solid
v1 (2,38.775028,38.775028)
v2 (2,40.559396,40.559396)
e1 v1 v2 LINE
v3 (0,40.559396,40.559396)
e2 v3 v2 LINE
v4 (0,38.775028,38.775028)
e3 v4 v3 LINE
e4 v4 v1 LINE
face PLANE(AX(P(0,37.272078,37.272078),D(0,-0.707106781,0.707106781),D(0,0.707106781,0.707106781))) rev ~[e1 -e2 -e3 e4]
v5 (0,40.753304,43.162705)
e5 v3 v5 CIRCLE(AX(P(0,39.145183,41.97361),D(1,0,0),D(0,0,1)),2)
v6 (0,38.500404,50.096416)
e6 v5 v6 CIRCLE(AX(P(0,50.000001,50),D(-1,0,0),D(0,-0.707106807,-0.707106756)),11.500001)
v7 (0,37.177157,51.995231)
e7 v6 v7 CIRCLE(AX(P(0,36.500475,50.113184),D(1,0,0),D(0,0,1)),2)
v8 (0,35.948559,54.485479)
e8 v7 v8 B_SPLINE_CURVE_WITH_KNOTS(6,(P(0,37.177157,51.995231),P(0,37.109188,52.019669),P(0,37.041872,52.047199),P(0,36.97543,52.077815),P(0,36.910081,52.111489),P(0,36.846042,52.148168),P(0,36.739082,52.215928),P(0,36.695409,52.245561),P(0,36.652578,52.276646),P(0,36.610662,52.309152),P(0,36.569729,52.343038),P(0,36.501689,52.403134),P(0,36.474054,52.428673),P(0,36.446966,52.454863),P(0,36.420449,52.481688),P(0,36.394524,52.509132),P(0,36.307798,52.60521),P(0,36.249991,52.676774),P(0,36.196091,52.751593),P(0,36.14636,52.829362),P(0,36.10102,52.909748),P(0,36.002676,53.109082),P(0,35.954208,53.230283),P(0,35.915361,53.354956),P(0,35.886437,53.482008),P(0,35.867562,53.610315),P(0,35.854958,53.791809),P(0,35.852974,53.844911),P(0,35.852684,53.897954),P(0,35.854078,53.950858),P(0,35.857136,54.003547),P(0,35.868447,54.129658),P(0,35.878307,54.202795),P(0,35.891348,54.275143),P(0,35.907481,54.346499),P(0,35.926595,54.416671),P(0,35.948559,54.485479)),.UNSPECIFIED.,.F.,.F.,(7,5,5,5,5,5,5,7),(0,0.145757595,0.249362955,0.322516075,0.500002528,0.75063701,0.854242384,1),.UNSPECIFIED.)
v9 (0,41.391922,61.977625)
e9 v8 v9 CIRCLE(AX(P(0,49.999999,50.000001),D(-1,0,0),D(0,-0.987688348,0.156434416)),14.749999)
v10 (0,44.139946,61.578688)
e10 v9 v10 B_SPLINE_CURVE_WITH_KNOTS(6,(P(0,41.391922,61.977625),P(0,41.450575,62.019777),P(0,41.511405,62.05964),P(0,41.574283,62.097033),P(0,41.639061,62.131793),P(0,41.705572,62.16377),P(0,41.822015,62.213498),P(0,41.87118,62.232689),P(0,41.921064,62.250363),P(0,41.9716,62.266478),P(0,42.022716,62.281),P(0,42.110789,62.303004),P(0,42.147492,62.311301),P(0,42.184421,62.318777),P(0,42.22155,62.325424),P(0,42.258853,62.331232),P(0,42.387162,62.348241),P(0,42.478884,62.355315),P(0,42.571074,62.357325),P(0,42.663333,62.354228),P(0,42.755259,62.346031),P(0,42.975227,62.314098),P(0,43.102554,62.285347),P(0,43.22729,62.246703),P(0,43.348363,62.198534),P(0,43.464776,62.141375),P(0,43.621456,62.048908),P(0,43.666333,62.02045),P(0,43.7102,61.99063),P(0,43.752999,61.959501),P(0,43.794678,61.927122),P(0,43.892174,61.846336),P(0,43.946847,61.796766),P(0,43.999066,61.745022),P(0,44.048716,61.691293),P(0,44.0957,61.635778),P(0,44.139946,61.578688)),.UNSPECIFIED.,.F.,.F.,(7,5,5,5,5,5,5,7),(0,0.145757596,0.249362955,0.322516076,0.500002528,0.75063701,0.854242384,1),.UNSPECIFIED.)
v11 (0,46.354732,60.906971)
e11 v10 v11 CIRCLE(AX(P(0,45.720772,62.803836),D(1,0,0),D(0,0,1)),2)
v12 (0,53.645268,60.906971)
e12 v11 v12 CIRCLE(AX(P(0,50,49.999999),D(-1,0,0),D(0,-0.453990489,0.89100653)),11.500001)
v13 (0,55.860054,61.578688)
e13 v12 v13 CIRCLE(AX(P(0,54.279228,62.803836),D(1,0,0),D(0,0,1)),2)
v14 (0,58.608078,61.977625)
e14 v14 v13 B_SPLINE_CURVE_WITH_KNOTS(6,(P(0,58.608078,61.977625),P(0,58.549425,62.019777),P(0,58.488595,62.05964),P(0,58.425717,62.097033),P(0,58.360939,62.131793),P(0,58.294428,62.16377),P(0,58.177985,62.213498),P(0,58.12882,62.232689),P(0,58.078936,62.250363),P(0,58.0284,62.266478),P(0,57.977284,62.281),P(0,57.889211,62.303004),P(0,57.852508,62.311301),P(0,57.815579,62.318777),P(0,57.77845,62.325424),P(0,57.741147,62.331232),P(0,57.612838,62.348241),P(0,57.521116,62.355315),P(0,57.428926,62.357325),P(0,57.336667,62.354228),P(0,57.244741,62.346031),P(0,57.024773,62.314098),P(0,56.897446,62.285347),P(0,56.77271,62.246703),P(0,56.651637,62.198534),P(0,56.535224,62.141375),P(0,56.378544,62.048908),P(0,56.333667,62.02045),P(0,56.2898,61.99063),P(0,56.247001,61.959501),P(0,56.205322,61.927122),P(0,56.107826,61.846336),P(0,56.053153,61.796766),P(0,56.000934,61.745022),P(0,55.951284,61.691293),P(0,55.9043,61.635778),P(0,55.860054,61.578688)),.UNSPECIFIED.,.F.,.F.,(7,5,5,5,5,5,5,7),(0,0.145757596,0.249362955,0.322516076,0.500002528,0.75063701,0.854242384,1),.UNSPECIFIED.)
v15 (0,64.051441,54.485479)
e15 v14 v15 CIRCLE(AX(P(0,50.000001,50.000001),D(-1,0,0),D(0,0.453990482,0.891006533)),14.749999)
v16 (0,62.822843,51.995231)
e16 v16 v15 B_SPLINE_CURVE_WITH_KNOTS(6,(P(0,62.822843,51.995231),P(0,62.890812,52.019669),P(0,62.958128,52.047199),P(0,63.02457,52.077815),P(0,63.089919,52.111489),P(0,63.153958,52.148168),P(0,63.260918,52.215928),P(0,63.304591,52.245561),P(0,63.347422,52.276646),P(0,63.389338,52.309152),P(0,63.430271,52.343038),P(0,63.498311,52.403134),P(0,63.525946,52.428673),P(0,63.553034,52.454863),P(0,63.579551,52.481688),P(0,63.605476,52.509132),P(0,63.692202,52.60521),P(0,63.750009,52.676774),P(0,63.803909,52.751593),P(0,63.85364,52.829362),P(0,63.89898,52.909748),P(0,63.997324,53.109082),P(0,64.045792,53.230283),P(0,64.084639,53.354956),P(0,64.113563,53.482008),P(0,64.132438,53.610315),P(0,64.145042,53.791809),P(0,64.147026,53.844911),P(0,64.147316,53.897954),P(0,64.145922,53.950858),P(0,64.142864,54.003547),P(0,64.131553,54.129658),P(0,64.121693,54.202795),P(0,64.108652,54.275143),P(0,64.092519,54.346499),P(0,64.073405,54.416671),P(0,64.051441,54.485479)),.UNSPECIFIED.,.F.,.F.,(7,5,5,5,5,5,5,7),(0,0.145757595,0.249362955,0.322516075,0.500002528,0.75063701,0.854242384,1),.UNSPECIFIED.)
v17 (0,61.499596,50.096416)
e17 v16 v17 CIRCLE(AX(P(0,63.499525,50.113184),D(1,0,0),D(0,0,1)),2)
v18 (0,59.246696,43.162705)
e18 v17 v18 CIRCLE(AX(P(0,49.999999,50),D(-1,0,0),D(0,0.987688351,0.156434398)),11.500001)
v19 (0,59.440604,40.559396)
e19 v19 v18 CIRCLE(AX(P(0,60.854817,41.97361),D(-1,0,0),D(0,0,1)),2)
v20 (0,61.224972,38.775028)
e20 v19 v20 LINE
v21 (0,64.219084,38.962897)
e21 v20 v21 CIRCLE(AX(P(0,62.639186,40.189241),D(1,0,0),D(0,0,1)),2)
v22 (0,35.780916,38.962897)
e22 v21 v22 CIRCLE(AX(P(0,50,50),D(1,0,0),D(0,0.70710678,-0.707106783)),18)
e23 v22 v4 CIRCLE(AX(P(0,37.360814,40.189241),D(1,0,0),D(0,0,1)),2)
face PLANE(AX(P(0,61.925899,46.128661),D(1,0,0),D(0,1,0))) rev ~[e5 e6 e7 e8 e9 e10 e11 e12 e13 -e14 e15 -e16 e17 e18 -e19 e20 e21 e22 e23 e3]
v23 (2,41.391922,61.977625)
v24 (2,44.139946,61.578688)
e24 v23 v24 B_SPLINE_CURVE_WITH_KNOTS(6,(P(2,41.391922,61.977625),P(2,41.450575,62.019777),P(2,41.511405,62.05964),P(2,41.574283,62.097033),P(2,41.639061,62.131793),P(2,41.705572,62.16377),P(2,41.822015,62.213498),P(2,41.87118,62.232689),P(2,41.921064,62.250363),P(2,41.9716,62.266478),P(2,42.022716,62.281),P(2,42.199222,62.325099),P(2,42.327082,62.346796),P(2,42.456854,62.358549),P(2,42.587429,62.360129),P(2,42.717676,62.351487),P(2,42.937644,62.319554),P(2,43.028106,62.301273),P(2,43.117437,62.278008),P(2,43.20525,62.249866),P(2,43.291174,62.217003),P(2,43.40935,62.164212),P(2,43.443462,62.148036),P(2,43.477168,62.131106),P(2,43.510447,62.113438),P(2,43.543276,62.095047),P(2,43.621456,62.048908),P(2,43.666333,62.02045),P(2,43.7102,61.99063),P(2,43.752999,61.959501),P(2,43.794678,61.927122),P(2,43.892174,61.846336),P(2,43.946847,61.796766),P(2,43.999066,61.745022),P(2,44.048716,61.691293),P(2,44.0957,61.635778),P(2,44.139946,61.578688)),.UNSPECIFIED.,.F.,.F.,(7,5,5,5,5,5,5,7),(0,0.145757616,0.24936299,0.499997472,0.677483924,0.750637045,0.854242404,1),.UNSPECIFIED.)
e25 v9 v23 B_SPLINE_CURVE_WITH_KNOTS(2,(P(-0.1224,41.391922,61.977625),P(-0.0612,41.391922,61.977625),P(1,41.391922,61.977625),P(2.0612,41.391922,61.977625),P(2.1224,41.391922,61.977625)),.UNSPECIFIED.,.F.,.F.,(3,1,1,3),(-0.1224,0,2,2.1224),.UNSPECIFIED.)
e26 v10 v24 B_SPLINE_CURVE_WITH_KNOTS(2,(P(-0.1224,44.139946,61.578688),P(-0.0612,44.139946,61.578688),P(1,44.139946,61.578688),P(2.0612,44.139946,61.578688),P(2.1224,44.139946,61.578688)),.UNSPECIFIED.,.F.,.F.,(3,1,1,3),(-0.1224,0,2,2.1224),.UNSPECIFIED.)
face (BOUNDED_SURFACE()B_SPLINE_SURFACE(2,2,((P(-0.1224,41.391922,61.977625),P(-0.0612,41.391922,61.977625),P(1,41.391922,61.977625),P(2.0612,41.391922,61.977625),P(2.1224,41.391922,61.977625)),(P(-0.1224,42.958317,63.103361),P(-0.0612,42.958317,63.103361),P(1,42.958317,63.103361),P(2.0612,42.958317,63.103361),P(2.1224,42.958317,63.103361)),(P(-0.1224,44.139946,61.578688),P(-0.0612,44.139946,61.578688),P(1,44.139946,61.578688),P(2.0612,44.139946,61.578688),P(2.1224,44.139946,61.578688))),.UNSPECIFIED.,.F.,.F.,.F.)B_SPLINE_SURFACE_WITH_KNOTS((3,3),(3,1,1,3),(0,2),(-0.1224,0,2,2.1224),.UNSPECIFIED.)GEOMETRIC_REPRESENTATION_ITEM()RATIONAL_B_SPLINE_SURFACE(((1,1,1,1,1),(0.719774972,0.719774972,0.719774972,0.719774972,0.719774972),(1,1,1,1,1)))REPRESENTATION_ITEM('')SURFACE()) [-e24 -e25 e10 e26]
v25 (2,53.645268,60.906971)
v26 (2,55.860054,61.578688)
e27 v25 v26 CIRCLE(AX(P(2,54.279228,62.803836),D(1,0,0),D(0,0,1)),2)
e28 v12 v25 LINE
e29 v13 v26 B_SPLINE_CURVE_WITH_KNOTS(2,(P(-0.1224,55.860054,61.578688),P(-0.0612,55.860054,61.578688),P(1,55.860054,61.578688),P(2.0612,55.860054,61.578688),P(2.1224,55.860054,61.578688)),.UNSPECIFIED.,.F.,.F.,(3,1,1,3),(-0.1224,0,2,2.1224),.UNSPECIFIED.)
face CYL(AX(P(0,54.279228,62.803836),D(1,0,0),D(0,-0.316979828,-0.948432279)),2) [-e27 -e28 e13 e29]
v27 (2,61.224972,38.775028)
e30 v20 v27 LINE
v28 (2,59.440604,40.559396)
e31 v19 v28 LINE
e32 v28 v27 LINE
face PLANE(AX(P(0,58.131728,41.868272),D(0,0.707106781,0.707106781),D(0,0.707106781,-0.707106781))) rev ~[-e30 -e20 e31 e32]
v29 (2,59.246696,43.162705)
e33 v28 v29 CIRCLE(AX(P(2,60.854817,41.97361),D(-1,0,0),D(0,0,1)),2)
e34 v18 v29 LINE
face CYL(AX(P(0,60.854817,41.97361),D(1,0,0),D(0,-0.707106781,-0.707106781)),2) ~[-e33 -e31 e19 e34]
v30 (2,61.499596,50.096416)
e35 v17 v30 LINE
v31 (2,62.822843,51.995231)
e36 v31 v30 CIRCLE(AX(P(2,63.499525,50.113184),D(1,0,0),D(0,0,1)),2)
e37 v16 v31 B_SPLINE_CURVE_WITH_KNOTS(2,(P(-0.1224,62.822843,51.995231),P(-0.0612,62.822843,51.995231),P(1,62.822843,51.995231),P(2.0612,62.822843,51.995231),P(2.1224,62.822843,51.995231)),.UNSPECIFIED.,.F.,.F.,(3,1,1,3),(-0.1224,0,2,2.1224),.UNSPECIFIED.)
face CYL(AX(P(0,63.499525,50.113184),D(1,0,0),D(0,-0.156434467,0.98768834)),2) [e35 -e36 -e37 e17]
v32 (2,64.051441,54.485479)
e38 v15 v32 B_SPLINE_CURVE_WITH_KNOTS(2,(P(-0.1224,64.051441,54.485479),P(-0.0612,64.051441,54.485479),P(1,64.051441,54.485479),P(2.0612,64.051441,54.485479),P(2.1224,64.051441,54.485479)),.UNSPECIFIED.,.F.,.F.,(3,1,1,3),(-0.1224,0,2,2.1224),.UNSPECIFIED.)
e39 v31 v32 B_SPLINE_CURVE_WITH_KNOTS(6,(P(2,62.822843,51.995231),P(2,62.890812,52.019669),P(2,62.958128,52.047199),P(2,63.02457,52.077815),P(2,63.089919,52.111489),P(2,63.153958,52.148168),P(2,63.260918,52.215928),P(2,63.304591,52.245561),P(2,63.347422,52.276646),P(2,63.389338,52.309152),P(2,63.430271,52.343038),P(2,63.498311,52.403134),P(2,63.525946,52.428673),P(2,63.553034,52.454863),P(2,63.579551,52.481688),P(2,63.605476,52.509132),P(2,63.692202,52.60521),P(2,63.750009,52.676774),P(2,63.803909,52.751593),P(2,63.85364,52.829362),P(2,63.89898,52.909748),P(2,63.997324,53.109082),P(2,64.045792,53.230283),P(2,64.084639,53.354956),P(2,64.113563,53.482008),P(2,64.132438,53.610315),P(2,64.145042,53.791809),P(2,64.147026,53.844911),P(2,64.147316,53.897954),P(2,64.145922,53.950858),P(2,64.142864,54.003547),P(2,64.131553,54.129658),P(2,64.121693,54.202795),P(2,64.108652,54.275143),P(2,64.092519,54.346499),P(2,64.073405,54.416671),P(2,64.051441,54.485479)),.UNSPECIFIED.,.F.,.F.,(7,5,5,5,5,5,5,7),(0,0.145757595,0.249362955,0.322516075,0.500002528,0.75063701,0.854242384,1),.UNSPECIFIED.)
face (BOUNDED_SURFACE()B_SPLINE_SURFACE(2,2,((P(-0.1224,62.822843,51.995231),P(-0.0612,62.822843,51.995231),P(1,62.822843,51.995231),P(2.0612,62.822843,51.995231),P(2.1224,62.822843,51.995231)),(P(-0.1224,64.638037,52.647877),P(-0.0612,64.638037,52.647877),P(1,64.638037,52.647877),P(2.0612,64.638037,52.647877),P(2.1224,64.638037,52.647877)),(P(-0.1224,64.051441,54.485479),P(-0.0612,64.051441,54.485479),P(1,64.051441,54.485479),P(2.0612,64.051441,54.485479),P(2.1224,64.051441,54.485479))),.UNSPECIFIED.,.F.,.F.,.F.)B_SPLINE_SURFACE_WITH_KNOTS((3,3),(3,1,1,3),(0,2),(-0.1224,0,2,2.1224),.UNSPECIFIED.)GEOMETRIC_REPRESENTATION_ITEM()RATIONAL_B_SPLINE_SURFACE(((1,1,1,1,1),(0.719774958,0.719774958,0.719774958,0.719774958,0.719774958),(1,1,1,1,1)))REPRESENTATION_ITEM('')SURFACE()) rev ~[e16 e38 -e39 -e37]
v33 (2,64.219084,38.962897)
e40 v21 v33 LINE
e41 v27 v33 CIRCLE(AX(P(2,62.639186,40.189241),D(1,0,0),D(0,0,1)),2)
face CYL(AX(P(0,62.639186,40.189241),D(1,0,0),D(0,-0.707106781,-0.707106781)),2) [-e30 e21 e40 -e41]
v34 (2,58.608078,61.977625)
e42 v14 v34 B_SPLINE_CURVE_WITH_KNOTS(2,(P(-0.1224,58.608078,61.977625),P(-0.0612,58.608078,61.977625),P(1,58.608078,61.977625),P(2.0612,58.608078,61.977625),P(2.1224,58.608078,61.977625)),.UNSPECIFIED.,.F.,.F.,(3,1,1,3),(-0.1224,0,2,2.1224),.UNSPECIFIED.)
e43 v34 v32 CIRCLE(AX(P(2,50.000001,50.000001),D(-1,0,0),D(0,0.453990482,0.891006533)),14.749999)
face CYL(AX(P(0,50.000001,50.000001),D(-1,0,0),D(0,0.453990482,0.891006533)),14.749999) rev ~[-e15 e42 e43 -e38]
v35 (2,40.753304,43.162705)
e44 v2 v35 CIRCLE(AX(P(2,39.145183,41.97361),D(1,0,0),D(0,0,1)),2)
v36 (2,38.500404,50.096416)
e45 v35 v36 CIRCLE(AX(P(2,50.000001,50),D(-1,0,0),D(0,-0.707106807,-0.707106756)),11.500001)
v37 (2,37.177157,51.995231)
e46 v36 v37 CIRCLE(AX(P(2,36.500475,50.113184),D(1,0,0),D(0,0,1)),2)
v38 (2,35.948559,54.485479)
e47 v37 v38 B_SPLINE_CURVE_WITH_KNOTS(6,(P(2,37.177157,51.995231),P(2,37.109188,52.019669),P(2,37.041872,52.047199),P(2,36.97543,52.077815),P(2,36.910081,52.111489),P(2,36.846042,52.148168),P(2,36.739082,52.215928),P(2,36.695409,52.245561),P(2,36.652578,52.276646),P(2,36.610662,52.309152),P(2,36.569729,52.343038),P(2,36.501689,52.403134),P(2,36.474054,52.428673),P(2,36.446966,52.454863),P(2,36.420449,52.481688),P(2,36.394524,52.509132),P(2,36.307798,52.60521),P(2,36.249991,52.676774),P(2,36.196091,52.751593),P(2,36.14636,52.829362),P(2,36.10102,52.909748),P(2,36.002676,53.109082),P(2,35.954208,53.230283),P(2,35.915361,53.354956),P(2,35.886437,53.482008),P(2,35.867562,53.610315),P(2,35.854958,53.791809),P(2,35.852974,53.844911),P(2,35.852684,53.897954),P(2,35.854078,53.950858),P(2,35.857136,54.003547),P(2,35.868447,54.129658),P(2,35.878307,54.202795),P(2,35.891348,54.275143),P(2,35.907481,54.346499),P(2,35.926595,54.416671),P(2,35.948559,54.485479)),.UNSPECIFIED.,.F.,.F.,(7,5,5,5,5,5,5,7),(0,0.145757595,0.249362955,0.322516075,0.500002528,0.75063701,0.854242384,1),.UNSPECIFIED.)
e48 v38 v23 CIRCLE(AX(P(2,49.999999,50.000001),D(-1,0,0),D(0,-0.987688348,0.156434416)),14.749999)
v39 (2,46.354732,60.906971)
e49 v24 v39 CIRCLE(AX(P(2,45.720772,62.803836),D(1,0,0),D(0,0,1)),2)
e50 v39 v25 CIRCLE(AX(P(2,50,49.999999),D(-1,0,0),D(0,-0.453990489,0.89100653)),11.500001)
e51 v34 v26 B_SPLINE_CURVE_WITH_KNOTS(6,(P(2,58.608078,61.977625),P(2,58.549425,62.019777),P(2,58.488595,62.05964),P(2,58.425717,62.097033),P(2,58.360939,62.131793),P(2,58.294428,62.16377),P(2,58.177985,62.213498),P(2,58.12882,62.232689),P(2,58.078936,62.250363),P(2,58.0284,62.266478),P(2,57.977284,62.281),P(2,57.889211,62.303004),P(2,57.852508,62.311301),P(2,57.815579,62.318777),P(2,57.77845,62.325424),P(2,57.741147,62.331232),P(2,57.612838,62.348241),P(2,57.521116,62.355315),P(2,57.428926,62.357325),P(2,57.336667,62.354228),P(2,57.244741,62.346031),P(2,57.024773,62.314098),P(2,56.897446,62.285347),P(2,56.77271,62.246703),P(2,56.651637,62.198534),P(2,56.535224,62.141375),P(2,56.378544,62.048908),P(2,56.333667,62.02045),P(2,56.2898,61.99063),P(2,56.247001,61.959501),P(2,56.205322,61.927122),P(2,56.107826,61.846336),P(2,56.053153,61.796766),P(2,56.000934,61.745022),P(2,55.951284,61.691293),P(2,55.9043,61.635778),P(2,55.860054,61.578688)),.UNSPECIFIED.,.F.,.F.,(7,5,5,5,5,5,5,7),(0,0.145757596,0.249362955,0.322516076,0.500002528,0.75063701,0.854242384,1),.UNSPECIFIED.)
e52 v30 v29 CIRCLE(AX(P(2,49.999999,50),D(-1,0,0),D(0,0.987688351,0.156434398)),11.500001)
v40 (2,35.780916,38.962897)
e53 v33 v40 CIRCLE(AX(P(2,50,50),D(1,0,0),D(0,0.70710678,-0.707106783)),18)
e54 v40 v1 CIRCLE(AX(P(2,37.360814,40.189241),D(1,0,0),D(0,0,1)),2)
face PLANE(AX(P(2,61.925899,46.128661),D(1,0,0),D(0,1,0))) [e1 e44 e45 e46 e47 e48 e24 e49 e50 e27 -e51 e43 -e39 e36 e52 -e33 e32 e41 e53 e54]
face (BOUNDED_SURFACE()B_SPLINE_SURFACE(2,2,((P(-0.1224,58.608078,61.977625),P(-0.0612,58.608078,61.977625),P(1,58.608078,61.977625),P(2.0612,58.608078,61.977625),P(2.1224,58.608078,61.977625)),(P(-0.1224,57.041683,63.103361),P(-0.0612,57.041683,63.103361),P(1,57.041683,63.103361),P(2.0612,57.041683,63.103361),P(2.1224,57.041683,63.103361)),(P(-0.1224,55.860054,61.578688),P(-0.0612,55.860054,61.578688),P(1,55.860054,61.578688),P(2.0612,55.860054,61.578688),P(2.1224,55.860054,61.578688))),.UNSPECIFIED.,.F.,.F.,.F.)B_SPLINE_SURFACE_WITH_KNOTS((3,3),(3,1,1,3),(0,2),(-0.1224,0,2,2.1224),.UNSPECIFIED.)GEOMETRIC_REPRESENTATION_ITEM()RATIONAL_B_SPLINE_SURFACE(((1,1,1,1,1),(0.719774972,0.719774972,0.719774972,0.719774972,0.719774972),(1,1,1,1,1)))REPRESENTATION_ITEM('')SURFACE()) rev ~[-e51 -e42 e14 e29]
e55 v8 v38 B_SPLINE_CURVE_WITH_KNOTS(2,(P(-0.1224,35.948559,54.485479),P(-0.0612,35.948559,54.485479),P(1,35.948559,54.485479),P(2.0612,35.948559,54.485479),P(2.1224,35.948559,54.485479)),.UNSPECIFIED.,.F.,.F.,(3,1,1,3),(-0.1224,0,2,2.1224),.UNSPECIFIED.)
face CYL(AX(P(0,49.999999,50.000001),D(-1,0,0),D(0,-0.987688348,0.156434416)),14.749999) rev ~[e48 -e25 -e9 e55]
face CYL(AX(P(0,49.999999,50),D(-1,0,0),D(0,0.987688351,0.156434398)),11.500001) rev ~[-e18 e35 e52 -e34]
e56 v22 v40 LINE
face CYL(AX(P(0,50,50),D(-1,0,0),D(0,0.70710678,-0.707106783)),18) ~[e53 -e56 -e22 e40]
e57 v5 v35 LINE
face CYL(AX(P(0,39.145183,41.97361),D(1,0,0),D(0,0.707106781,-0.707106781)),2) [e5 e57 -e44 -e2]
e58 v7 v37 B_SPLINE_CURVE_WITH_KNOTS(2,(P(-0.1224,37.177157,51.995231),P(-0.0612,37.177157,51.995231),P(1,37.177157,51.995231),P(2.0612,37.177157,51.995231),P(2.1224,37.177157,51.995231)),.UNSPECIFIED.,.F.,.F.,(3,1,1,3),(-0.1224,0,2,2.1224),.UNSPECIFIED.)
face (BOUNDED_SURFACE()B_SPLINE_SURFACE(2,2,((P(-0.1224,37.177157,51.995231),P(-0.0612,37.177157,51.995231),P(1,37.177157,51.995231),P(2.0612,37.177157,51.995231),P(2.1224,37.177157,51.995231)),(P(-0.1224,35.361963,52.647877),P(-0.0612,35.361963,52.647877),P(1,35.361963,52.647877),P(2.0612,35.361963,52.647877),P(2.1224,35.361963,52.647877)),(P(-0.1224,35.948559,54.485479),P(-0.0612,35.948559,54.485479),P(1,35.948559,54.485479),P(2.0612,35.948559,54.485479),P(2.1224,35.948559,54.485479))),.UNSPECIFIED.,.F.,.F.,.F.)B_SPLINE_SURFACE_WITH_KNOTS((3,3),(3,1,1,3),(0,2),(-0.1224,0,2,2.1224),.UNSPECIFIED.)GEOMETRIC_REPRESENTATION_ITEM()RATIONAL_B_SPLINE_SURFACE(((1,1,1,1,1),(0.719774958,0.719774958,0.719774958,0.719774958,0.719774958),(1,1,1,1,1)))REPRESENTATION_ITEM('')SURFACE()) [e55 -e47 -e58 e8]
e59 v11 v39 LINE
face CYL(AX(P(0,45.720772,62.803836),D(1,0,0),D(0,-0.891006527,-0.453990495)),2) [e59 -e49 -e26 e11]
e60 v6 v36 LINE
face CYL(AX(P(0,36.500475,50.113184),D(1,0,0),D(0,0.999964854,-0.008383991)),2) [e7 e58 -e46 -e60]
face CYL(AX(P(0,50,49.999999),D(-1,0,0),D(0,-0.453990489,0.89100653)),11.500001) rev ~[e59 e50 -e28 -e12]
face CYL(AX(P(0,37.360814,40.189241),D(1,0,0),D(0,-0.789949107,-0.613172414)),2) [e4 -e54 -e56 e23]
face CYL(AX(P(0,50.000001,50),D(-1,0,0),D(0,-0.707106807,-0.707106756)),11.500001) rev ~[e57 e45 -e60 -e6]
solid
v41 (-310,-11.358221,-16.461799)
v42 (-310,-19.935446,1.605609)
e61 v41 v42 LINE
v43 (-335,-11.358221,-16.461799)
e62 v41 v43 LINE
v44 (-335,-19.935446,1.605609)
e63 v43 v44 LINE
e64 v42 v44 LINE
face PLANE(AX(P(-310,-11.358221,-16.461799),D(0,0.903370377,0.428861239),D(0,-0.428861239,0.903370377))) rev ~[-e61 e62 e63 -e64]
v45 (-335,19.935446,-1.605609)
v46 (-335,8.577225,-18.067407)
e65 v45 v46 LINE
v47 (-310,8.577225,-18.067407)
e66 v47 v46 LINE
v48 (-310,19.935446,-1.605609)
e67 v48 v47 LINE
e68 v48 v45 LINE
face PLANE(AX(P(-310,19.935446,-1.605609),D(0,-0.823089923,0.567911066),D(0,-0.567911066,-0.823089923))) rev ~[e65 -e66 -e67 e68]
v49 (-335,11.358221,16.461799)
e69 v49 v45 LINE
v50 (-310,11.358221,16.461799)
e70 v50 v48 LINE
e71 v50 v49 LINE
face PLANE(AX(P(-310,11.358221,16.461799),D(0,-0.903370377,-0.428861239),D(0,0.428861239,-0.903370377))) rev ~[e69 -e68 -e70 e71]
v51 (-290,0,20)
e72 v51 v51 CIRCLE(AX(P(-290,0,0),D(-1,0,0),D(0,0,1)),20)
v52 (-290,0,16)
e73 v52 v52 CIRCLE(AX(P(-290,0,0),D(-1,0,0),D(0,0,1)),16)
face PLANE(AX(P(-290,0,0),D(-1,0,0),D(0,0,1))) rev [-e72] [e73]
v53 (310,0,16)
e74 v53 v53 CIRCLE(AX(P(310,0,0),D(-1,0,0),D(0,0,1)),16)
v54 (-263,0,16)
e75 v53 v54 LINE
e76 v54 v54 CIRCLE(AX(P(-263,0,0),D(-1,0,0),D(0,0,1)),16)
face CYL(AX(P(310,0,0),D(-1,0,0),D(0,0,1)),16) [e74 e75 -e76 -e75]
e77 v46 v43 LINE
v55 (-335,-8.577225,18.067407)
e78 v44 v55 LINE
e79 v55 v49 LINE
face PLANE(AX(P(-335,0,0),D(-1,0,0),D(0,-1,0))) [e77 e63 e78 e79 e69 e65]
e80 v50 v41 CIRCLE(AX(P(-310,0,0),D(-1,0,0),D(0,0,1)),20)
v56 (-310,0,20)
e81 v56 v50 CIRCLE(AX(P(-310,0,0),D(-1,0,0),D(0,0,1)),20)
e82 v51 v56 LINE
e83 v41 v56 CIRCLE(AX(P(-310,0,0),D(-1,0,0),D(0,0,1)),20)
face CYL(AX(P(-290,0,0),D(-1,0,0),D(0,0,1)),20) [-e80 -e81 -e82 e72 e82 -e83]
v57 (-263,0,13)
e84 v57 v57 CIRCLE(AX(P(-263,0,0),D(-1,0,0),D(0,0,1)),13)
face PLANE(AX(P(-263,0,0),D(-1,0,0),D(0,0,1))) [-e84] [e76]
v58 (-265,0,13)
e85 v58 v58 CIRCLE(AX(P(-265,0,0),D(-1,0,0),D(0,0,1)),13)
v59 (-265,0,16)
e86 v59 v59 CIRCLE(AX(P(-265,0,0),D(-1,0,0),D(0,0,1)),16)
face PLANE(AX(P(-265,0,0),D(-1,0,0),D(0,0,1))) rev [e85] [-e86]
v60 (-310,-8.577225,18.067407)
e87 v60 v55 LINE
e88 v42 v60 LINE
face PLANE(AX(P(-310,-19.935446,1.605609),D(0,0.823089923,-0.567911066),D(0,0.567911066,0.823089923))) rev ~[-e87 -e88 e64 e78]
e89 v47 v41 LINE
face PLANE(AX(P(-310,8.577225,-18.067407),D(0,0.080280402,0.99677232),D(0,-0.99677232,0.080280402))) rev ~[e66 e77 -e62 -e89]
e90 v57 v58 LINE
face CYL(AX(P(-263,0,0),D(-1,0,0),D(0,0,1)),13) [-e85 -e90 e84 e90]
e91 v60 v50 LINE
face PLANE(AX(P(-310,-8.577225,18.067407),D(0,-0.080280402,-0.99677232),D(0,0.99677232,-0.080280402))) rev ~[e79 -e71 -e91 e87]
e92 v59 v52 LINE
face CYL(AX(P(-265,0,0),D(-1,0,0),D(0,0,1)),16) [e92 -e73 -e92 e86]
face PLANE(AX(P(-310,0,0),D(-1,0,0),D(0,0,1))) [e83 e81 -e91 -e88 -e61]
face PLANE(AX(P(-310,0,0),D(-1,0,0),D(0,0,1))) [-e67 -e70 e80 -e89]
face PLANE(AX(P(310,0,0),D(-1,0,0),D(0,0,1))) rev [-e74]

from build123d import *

# Parameters (mm, degrees)
F3_DEPTH = 25
F5_DEPTH = 2
F6_R     = 2
F7_R     = 2


with BuildPart() as f1:
    # F0 (on Front) → F1 (revolve)
    with BuildSketch(Plane.XZ):
        Polygon((0, 0), (310, 0), (310, 16), (-263, 16), (-263, 13), (-265, 13), (-265, 16), (-290, 16), (-290, 20), (-310, 20), (-310, 0), align=None)
    revolve(axis=Axis((24.206266, 0, 0), (-1, 0, 0)))

    # F2 (on face) → F3 (join)
    with BuildSketch(Plane(origin=(-310, 0, 0), x_dir=(0, -1, 0), z_dir=(-1, 0, 0))):
        Polygon((-8.577225, -18.067407), (11.358221, -16.461799), (19.935446, 1.605609), (8.577225, 18.067407), (-11.358221, 16.461799), (-19.935446, -1.605609), align=None)
    extrude(amount=F3_DEPTH)


with BuildPart() as f5:
    # F4 (on Right) → F5 (new body)
    with BuildSketch(Plane.YZ):
        with BuildLine():
            Line((58.131728, 41.868272), (60.429825, 39.570175))
            ThreePointArc((60.429825, 39.570175), (63.627223, 44.355419), (64.75, 50))
            ThreePointArc((64.75, 50), (64.704531, 51.157272), (64.568403, 52.307408))
            Line((64.568403, 52.307408), (61.358416, 51.798996))
            ThreePointArc((61.358416, 51.798996), (60.93715, 46.446305), (58.131728, 41.868272))
        make_face()
        with BuildLine():
            Line((60.429825, 39.570175), (62.727922, 37.272078))
            ThreePointArc((62.727922, 37.272078), (50, 68), (37.272078, 37.272078))
            Line((37.272078, 37.272078), (39.570175, 39.570175))
            ThreePointArc((39.570175, 39.570175), (35.971916, 45.441999), (35.431597, 52.307408))
            ThreePointArc((35.431597, 52.307408), (38.066999, 58.669832), (43.30364, 63.142346))
            ThreePointArc((43.30364, 63.142346), (50, 64.75), (56.69636, 63.142346))
            ThreePointArc((56.69636, 63.142346), (61.933001, 58.669832), (64.568403, 52.307408))
            ThreePointArc((64.568403, 52.307408), (64.704531, 51.157272), (64.75, 50))
            ThreePointArc((64.75, 50), (63.627223, 44.355419), (60.429825, 39.570175))
        make_face()
        with BuildLine():
            ThreePointArc((56.69636, 63.142346), (50, 64.75), (43.30364, 63.142346))
            Line((43.30364, 63.142346), (44.779109, 60.246575))
            ThreePointArc((44.779109, 60.246575), (50, 61.5), (55.220891, 60.246575))
            Line((55.220891, 60.246575), (56.69636, 63.142346))
        make_face()
        with BuildLine():
            ThreePointArc((35.431597, 52.307408), (35.971916, 45.441999), (39.570175, 39.570175))
            Line((39.570175, 39.570175), (41.868272, 41.868272))
            ThreePointArc((41.868272, 41.868272), (39.06285, 46.446305), (38.641584, 51.798996))
            Line((38.641584, 51.798996), (35.431597, 52.307408))
        make_face()
    extrude(amount=F5_DEPTH)

    # F6
    f6_edges = [f5.edges().sort_by_distance(p)[0] for p in [
        (1, 55.220891, 60.246575),
        (1, 44.779109, 60.246575),
        (1, 62.727922, 37.272078),
        (1, 58.131728, 41.868272),
        (1, 41.868272, 41.868272),
        (1, 37.272078, 37.272078),
        (1, 61.358416, 51.798996),
        (1, 38.641584, 51.798996),
    ]]
    fillet(f6_edges, radius=F6_R)

    # F7
    f7_edges = [f5.edges().sort_by_distance(p)[0] for p in [
        (1, 56.69636, 63.142346),
        (1, 43.30364, 63.142346),
        (1, 64.568403, 52.307408),
        (1, 35.431597, 52.307408),
    ]]
    fillet(f7_edges, radius=F7_R)


solid = Compound([f1.part, f5.part])
